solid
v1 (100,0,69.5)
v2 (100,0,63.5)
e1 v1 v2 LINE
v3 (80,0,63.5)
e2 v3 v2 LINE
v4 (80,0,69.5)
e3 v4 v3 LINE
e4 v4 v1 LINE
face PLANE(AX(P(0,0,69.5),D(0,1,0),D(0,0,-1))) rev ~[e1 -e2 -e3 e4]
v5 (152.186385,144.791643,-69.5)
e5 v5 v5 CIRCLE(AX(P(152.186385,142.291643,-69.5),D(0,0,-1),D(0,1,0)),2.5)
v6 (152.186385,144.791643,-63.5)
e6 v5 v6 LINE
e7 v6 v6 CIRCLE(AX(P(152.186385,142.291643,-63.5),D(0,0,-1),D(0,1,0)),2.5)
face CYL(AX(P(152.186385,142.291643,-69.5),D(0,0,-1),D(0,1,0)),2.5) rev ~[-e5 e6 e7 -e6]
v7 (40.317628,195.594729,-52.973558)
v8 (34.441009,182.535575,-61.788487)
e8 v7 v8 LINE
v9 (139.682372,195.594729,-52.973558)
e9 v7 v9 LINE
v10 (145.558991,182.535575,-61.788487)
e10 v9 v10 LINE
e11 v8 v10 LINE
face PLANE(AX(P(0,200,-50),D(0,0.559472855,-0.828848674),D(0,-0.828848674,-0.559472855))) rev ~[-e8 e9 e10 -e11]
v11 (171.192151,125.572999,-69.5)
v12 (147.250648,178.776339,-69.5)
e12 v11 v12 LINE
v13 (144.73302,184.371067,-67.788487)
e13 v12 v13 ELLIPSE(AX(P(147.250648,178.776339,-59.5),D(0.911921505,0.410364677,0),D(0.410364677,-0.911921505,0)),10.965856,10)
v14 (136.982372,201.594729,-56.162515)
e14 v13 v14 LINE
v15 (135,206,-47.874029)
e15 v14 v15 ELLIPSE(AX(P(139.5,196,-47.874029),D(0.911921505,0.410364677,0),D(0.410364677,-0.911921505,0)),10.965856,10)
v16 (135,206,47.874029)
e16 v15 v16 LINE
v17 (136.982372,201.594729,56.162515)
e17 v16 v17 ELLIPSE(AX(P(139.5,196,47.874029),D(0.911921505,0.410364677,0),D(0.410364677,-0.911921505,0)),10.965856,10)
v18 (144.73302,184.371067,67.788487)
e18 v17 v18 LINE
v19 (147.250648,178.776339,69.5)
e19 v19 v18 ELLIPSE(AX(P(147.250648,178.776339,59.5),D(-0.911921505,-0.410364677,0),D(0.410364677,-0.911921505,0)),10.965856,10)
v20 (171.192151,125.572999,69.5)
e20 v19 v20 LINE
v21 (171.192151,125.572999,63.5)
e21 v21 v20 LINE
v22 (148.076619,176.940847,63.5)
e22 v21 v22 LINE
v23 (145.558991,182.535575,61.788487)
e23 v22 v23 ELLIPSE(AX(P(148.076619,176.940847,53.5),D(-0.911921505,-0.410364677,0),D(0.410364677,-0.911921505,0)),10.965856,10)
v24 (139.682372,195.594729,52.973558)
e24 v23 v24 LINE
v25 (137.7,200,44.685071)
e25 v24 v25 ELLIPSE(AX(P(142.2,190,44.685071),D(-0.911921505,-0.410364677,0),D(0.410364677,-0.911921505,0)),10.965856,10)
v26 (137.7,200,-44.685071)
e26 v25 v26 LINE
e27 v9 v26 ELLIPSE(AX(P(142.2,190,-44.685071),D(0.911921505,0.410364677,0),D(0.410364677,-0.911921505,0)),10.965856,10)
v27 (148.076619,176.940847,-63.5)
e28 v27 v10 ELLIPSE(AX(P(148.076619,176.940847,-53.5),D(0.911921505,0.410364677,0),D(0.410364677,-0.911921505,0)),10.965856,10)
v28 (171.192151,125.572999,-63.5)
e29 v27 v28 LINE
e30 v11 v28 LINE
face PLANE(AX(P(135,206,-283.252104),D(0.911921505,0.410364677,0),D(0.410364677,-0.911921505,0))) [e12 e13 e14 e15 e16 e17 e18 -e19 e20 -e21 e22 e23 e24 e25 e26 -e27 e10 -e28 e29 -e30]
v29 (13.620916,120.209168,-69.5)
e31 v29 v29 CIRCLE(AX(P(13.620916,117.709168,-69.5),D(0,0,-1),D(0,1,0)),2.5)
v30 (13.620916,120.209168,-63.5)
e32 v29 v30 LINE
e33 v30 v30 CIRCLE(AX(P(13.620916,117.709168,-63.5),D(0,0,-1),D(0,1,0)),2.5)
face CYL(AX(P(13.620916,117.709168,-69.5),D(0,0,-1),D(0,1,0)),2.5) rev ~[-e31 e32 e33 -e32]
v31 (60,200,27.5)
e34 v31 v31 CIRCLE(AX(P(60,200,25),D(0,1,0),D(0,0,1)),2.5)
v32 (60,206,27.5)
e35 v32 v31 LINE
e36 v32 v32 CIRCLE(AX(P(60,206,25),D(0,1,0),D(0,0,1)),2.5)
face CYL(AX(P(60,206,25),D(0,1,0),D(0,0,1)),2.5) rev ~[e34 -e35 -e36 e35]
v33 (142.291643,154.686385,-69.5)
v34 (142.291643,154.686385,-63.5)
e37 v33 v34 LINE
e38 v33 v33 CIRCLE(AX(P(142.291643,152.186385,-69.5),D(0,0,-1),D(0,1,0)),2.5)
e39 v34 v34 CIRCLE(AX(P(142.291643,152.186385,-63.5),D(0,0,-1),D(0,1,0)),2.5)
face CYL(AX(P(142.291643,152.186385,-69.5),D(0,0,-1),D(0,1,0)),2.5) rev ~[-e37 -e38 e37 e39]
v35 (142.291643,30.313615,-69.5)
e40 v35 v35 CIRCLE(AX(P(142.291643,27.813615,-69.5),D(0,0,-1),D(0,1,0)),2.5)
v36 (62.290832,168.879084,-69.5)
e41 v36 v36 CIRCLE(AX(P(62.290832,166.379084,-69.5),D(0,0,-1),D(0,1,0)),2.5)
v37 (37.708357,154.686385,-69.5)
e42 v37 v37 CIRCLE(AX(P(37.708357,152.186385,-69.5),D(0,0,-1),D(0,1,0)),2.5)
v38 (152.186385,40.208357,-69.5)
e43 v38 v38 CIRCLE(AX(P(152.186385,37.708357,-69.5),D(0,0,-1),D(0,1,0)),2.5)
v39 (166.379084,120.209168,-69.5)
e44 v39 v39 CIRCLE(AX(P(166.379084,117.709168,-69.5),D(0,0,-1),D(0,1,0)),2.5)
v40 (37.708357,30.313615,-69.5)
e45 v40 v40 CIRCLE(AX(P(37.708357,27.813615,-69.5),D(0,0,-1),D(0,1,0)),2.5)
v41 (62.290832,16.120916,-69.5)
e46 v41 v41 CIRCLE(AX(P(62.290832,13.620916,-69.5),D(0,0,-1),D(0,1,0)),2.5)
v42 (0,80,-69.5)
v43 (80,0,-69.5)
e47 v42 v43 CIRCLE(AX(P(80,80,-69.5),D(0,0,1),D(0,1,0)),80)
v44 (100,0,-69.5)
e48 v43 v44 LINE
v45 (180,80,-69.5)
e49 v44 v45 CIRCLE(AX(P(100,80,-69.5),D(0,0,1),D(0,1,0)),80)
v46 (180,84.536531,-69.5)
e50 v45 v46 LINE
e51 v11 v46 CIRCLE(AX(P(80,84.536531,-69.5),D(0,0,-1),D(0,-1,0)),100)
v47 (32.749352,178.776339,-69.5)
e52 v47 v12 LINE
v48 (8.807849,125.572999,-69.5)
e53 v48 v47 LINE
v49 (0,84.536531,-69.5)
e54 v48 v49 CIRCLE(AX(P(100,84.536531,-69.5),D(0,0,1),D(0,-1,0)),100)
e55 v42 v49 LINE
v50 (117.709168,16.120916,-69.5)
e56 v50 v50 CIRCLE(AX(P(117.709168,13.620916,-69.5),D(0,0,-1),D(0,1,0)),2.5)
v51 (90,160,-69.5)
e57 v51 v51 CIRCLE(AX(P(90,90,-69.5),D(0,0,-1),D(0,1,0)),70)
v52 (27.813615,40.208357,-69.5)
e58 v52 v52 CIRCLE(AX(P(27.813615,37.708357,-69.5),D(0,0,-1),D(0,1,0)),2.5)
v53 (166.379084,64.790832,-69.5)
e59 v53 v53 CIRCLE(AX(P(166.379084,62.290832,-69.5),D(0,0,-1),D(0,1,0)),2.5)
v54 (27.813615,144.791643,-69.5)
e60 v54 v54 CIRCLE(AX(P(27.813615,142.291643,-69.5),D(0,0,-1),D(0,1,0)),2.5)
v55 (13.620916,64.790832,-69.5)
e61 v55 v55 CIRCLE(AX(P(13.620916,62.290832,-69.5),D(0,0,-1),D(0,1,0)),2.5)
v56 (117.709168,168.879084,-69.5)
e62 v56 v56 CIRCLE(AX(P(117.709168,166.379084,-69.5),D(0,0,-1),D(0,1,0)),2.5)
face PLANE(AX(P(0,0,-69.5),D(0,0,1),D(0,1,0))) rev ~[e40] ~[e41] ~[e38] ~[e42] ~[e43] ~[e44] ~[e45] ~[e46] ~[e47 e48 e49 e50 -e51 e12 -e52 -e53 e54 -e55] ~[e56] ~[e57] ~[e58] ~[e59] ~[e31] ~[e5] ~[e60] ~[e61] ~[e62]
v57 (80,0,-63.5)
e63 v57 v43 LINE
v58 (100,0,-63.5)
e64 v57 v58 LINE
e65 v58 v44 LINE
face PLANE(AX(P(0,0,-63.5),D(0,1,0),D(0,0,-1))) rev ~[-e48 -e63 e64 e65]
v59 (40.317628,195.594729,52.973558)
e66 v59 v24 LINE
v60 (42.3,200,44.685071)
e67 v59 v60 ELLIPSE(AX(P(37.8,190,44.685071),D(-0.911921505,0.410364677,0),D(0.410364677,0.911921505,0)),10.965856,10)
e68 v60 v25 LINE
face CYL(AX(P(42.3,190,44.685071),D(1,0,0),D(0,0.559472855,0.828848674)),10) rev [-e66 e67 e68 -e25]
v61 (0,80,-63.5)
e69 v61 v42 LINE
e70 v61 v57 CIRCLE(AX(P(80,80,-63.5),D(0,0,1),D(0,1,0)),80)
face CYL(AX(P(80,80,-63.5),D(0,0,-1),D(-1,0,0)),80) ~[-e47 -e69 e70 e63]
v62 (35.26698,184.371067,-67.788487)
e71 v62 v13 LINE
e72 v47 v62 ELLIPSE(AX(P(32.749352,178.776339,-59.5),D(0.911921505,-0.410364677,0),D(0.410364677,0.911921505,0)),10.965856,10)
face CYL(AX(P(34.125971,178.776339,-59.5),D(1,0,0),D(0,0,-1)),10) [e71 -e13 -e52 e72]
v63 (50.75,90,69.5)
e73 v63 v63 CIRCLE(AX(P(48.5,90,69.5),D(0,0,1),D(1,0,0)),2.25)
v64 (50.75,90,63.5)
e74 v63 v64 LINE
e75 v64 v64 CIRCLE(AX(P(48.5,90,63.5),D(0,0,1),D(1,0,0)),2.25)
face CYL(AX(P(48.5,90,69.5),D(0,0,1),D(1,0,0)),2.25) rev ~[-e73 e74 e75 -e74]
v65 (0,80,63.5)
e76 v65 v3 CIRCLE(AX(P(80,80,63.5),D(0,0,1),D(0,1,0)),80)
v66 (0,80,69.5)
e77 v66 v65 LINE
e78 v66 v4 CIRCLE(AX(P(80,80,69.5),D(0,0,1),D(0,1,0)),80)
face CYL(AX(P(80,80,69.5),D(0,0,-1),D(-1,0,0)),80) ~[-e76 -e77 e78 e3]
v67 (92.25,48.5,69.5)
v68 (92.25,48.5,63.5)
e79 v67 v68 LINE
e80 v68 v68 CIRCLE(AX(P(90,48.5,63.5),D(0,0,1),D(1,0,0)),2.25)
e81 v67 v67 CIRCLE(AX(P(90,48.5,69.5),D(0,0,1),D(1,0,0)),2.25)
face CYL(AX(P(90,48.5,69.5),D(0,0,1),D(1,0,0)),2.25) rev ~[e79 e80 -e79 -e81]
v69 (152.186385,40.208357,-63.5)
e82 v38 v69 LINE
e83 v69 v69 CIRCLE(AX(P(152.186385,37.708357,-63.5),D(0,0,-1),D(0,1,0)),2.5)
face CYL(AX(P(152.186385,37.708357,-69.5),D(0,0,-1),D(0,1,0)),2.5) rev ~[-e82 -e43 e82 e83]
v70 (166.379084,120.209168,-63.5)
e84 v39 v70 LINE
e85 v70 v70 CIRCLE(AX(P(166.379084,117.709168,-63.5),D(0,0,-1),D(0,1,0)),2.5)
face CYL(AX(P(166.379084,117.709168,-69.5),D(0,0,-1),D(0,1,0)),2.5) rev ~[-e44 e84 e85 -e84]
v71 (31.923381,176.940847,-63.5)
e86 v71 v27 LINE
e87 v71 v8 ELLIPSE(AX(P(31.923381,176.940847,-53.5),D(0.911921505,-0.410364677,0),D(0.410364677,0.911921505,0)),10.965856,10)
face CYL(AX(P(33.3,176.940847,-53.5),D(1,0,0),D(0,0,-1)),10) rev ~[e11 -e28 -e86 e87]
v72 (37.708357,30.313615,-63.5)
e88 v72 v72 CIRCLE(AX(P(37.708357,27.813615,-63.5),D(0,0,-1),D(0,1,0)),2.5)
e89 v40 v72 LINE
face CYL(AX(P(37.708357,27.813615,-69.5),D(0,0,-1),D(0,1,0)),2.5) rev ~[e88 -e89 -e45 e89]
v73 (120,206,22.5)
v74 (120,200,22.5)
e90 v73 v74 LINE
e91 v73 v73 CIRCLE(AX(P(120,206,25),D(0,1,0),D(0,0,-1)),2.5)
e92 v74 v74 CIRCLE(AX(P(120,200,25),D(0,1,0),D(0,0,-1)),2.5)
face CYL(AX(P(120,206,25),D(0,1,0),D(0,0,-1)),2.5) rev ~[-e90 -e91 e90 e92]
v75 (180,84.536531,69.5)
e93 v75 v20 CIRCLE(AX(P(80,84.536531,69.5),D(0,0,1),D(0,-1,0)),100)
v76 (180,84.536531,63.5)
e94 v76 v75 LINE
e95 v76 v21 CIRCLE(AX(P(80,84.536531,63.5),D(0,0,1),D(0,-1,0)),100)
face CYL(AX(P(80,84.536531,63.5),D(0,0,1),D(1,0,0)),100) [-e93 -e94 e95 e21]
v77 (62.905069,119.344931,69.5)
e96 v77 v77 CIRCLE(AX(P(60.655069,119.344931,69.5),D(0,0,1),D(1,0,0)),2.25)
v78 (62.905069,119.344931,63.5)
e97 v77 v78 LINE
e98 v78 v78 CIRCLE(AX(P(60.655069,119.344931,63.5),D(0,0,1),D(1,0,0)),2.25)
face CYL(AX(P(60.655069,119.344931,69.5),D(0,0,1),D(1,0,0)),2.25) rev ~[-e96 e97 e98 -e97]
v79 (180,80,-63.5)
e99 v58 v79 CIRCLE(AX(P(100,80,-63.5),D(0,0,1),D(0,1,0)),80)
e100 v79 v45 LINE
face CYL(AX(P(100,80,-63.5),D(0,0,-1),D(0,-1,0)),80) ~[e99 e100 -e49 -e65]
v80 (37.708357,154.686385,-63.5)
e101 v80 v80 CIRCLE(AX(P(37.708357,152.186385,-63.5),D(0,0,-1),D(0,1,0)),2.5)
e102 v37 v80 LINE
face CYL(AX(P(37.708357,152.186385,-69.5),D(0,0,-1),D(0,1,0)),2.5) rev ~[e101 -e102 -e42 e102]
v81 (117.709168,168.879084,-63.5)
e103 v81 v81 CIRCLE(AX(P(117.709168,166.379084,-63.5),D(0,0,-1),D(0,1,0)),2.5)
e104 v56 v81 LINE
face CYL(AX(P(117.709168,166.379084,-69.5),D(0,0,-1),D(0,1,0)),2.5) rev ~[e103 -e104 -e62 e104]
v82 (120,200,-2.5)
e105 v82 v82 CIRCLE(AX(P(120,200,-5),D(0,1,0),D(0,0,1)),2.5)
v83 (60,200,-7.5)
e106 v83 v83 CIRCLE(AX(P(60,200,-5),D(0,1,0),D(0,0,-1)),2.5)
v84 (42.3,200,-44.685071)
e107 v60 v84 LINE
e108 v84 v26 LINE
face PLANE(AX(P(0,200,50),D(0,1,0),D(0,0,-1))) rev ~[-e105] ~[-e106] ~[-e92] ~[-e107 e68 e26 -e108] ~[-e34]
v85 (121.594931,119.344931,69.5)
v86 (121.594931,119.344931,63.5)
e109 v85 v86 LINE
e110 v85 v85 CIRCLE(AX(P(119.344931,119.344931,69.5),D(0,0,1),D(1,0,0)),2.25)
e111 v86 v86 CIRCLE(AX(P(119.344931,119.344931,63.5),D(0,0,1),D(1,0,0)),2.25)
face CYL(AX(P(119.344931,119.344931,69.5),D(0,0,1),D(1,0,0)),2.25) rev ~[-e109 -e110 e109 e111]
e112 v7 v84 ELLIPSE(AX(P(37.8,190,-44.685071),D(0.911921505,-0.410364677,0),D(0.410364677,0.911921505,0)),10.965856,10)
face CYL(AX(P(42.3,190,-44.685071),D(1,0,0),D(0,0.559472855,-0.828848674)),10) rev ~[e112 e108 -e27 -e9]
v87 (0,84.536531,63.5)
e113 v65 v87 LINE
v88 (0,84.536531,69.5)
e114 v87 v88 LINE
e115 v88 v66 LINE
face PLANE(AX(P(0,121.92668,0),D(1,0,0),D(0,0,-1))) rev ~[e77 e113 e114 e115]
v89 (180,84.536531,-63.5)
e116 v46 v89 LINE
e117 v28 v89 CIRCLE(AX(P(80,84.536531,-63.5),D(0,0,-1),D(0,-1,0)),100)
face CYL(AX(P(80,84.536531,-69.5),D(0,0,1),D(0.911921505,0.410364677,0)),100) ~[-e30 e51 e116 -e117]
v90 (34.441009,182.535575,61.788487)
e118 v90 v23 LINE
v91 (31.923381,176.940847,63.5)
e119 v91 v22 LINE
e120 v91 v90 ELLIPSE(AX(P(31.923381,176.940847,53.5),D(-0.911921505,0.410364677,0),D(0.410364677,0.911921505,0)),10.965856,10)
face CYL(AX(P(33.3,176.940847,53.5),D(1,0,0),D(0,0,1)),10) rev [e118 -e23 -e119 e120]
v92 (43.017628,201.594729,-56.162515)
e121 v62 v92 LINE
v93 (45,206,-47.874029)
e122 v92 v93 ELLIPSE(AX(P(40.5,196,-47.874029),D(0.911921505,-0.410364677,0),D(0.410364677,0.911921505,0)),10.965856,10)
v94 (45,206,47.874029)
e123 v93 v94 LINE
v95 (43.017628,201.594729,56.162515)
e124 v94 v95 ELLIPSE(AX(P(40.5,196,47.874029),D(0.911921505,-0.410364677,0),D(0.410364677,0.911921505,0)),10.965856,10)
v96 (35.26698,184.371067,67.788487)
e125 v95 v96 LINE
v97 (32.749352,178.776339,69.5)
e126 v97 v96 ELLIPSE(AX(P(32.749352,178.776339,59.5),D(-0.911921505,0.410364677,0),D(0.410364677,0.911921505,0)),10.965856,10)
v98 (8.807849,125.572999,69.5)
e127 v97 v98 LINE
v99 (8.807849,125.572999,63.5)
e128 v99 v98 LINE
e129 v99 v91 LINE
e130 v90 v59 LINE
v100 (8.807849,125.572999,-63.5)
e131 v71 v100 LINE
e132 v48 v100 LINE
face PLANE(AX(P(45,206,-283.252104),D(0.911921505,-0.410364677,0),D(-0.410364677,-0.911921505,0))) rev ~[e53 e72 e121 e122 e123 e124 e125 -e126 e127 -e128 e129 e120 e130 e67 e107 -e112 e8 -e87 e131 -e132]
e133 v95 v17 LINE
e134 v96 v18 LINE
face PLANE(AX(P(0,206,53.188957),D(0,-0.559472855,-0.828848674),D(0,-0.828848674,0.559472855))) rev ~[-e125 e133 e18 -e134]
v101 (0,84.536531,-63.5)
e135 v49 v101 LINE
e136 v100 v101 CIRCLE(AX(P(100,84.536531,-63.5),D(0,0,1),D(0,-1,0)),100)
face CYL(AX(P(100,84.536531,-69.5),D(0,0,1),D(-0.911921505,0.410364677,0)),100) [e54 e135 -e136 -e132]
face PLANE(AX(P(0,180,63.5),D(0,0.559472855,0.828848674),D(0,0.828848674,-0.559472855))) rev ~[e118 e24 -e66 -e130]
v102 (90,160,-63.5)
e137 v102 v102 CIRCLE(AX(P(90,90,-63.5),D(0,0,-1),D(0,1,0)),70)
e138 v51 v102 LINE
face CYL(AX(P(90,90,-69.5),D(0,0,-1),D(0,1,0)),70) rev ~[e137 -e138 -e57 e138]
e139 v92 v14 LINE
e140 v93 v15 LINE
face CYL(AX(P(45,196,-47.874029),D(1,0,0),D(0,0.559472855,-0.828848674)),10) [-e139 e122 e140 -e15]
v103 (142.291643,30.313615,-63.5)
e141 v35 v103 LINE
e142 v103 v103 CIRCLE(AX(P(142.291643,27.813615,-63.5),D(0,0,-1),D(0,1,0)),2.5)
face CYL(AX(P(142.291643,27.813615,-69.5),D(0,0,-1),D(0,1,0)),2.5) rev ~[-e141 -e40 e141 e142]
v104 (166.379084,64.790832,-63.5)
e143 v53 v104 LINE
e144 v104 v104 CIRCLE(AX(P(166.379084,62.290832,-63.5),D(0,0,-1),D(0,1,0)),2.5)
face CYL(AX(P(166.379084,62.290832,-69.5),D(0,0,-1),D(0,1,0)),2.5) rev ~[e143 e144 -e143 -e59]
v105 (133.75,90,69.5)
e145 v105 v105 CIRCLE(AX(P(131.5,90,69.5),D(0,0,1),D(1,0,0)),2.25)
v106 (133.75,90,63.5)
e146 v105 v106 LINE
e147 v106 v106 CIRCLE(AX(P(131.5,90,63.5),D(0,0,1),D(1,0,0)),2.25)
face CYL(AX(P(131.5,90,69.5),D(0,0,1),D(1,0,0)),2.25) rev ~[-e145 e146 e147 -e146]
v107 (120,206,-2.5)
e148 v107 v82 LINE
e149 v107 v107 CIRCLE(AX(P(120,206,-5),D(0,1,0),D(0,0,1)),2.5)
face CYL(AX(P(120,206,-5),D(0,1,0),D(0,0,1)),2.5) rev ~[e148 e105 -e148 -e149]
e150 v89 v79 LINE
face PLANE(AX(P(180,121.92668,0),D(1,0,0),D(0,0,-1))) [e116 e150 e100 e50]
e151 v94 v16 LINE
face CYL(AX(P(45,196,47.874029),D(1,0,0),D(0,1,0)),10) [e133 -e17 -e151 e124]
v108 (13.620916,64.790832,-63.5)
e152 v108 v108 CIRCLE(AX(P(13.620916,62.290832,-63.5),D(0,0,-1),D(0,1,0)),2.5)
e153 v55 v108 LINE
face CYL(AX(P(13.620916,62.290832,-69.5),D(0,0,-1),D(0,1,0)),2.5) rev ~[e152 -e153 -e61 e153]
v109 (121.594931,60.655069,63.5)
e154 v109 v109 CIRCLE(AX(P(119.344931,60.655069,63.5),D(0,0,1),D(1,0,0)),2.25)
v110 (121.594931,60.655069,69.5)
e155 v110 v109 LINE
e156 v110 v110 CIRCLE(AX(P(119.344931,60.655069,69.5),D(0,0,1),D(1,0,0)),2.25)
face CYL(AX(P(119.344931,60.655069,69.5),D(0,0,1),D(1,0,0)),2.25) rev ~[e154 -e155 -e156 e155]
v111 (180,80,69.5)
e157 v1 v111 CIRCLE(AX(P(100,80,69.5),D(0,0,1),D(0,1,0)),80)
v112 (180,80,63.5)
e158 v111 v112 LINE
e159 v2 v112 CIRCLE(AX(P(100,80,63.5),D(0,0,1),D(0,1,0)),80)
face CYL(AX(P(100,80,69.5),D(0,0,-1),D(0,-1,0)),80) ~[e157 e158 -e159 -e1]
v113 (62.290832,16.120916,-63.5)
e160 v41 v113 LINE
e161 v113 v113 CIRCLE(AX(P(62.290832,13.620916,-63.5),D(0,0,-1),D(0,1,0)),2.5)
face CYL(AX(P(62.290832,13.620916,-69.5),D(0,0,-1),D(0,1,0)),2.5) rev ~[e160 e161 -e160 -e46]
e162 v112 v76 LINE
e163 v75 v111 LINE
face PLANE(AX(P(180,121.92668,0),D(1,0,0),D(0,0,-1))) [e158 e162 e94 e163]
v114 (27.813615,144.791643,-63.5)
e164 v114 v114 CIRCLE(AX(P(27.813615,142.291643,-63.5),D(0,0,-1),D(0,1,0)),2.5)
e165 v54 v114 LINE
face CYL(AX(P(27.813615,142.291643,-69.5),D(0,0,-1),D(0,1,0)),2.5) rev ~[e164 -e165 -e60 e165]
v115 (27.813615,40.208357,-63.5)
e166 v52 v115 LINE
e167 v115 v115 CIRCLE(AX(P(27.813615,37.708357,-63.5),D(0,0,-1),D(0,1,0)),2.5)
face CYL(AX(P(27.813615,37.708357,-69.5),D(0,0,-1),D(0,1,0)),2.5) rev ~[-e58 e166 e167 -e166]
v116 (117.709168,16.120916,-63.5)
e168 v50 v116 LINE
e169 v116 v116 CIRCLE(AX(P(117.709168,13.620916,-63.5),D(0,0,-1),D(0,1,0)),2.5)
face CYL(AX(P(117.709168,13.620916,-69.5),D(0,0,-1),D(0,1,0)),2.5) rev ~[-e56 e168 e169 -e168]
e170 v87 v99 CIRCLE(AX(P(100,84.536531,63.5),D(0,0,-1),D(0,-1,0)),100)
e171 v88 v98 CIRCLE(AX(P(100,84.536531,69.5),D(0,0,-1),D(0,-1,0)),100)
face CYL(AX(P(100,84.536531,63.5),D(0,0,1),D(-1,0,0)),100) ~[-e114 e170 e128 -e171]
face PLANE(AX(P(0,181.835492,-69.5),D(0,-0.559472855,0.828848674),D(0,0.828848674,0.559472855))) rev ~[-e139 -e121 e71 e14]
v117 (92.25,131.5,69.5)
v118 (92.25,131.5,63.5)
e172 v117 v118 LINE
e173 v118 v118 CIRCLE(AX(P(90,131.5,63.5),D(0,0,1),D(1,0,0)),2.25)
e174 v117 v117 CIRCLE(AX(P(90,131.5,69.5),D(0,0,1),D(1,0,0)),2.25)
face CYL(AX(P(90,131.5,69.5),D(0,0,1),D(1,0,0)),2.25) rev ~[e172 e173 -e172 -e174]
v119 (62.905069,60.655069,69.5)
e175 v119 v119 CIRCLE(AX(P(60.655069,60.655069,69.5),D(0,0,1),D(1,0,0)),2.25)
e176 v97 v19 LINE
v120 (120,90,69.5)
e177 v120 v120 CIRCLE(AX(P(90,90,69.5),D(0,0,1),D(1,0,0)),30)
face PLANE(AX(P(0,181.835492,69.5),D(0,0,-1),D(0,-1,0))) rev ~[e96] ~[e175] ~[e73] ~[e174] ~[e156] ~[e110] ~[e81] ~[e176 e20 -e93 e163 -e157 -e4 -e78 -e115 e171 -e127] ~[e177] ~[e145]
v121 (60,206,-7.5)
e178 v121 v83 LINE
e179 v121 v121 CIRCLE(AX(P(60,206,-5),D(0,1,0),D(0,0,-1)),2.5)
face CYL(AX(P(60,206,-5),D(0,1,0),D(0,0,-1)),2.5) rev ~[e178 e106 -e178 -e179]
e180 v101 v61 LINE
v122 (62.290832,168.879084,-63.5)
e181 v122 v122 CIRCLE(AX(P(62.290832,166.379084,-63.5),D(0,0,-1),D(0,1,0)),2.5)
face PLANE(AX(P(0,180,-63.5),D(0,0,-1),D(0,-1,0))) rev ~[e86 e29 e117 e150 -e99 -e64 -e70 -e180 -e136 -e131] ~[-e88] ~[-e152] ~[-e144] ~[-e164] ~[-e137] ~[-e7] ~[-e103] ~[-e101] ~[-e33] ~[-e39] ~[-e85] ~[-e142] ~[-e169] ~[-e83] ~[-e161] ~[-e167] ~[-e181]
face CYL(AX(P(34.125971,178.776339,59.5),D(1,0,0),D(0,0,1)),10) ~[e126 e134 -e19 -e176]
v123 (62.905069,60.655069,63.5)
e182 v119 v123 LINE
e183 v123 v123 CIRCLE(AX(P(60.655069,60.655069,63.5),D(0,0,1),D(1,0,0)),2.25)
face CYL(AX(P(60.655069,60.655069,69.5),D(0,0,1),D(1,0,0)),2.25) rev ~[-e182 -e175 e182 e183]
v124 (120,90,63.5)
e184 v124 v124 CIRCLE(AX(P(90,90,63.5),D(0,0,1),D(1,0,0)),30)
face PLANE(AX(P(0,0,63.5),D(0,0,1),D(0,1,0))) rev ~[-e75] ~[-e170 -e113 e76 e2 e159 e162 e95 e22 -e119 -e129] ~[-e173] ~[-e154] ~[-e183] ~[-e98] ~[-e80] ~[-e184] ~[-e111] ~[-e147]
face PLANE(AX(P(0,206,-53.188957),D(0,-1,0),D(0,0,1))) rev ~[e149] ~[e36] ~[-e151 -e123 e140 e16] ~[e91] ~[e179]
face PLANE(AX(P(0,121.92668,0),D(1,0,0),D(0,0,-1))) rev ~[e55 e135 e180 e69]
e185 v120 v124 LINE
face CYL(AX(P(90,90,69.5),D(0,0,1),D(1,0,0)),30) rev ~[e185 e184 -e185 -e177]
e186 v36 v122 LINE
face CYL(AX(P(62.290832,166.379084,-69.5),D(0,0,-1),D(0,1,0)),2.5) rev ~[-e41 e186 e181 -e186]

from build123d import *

# Parameters (mm, degrees)
EXTRUDE_1_DEPTH          = 180
CUT_EXTRUDE_1_DEPTH      = 283.252103624
CUT_EXTRUDE_1_DEPTH_BACK = 283.252103624
SKETCH_13_R              = 70
SKETCH_13_R_2            = 2.5
CUT_EXTRUDE_2_DEPTH      = 50
SKETCH_14_R              = 2.5
CUT_EXTRUDE_3_DEPTH      = 6
SKETCH_15_R              = 30
SKETCH_15_R_2            = 2.25
CUT_EXTRUDE_4_DEPTH      = 6
FILLET_1_R               = 100
FILLET_2_R               = 80
FILLET_3_R               = 10


with BuildPart() as part:
    # 草图11 → 拉伸-薄壁1 (new body)
    with BuildSketch(Plane(origin=(0, 0, 0), x_dir=(0, 0, -1), z_dir=(1, 0, 0))):
        Polygon((-63.5, 0), (-63.5, 180), (-50, 200), (50, 200), (63.5, 180), (63.5, 0), (69.5, 0), (69.5, 181.835492011), (53.188957107, 206), (-53.188957107, 206), (-69.5, 181.835492011), (-69.5, 0), align=None)
    extrude(amount=EXTRUDE_1_DEPTH)

    # 草图12 → 切除-拉伸1 (cut, two sides: drawn at the far end of the back side and taken through both)
    with BuildSketch(Plane.XY.offset(-CUT_EXTRUDE_1_DEPTH_BACK)):
        Polygon((45, 206), (0, 106), (0, 206), align=None)
        Polygon((180, 106), (180, 206), (135, 206), align=None)
    extrude(amount=CUT_EXTRUDE_1_DEPTH + CUT_EXTRUDE_1_DEPTH_BACK, mode=Mode.SUBTRACT)

    # 草图13 → 切除-拉伸2 (cut)
    with BuildSketch(Plane(origin=(0, 0, -69.5), x_dir=(-1, 0, 0), z_dir=(0, 0, -1))):
        with Locations(Location((-90, 90, 0), (0, 0, 90))):
            Circle(SKETCH_13_R)
        with Locations(Location((-117.709167863, 166.379084286, 0), (0, 0, 90))):
            Circle(SKETCH_13_R_2)
        with Locations(Location((-142.291643378, 152.18638543, 0), (0, 0, 90))):
            Circle(SKETCH_13_R_2)
        with Locations(Location((-152.18638543, 142.291643378, 0), (0, 0, 90))):
            Circle(SKETCH_13_R_2)
        with Locations(Location((-166.379084286, 117.709167863, 0), (0, 0, 90))):
            Circle(SKETCH_13_R_2)
        with Locations(Location((-13.620915714, 117.709167863, 0), (0, 0, 90))):
            Circle(SKETCH_13_R_2)
        with Locations(Location((-27.81361457, 142.291643378, 0), (0, 0, 90))):
            Circle(SKETCH_13_R_2)
        with Locations(Location((-37.708356622, 152.18638543, 0), (0, 0, 90))):
            Circle(SKETCH_13_R_2)
        with Locations(Location((-62.290832137, 166.379084286, 0), (0, 0, 90))):
            Circle(SKETCH_13_R_2)
        with Locations(Location((-62.290832137, 13.620915714, 0), (0, 0, 90))):
            Circle(SKETCH_13_R_2)
        with Locations(Location((-37.708356622, 27.81361457, 0), (0, 0, 90))):
            Circle(SKETCH_13_R_2)
        with Locations(Location((-27.81361457, 37.708356622, 0), (0, 0, 90))):
            Circle(SKETCH_13_R_2)
        with Locations(Location((-13.620915714, 62.290832137, 0), (0, 0, 90))):
            Circle(SKETCH_13_R_2)
        with Locations(Location((-166.379084286, 62.290832137, 0), (0, 0, 90))):
            Circle(SKETCH_13_R_2)
        with Locations(Location((-152.18638543, 37.708356622, 0), (0, 0, 90))):
            Circle(SKETCH_13_R_2)
        with Locations(Location((-142.291643378, 27.81361457, 0), (0, 0, 90))):
            Circle(SKETCH_13_R_2)
        with Locations(Location((-117.709167863, 13.620915714, 0), (0, 0, 90))):
            Circle(SKETCH_13_R_2)
    extrude(amount=-CUT_EXTRUDE_2_DEPTH, mode=Mode.SUBTRACT)

    # 草图14 → 切除-拉伸3 (cut)
    with BuildSketch(Plane(origin=(0, 206, 0), x_dir=(1, 0, 0), z_dir=(0, 1, 0))):
        with Locations(Location((120, 5, 0), (0, 0, 270))):
            Circle(SKETCH_14_R)
        with Locations(Location((120, -25, 0), (0, 0, 90))):
            Circle(SKETCH_14_R)
        with Locations(Location((60, -25, 0), (0, 0, 270))):
            Circle(SKETCH_14_R)
        with Locations(Location((60, 5, 0), (0, 0, 90))):
            Circle(SKETCH_14_R)
    extrude(amount=-CUT_EXTRUDE_3_DEPTH, mode=Mode.SUBTRACT)

    # 草图15 → 切除-拉伸4 (cut)
    with BuildSketch(Plane.XY.offset(69.5)):
        with Locations((90, 90)):
            Circle(SKETCH_15_R)
        with Locations((90, 131.5)):
            Circle(SKETCH_15_R_2)
        with Locations((119.344931419, 119.344931419)):
            Circle(SKETCH_15_R_2)
        with Locations((131.5, 90)):
            Circle(SKETCH_15_R_2)
        with Locations((119.344931419, 60.655068581)):
            Circle(SKETCH_15_R_2)
        with Locations((90, 48.5)):
            Circle(SKETCH_15_R_2)
        with Locations((60.655068581, 60.655068581)):
            Circle(SKETCH_15_R_2)
        with Locations((48.5, 90)):
            Circle(SKETCH_15_R_2)
        with Locations((60.655068581, 119.344931419)):
            Circle(SKETCH_15_R_2)
    extrude(amount=-CUT_EXTRUDE_4_DEPTH, mode=Mode.SUBTRACT)

    # 圆角1
    fillet_1_edges = [part.edges().sort_by_distance(p)[0] for p in [
        (0, 106, 66.5),
        (180, 106, 66.5),
        (0, 106, -66.5),
        (180, 106, -66.5),
    ]]
    fillet(fillet_1_edges, radius=FILLET_1_R)

    # 圆角2
    fillet_2_edges = [part.edges().sort_by_distance(p)[0] for p in [
        (0, 0, -66.5),
        (0, 0, 66.5),
        (180, 0, -66.5),
        (180, 0, 66.5),
    ]]
    fillet(fillet_2_edges, radius=FILLET_2_R)

    # 圆角3
    fillet_3_edges = [part.edges().sort_by_distance(p)[0] for p in [
        (90, 181.835492011, 69.5),
        (90, 206, 53.188957107),
        (90, 206, -53.188957107),
        (90, 181.835492011, -69.5),
        (90, 180, -63.5),
        (90, 200, -50),
        (90, 200, 50),
        (90, 180, 63.5),
    ]]
    fillet(fillet_3_edges, radius=FILLET_3_R)


solid = part.part
